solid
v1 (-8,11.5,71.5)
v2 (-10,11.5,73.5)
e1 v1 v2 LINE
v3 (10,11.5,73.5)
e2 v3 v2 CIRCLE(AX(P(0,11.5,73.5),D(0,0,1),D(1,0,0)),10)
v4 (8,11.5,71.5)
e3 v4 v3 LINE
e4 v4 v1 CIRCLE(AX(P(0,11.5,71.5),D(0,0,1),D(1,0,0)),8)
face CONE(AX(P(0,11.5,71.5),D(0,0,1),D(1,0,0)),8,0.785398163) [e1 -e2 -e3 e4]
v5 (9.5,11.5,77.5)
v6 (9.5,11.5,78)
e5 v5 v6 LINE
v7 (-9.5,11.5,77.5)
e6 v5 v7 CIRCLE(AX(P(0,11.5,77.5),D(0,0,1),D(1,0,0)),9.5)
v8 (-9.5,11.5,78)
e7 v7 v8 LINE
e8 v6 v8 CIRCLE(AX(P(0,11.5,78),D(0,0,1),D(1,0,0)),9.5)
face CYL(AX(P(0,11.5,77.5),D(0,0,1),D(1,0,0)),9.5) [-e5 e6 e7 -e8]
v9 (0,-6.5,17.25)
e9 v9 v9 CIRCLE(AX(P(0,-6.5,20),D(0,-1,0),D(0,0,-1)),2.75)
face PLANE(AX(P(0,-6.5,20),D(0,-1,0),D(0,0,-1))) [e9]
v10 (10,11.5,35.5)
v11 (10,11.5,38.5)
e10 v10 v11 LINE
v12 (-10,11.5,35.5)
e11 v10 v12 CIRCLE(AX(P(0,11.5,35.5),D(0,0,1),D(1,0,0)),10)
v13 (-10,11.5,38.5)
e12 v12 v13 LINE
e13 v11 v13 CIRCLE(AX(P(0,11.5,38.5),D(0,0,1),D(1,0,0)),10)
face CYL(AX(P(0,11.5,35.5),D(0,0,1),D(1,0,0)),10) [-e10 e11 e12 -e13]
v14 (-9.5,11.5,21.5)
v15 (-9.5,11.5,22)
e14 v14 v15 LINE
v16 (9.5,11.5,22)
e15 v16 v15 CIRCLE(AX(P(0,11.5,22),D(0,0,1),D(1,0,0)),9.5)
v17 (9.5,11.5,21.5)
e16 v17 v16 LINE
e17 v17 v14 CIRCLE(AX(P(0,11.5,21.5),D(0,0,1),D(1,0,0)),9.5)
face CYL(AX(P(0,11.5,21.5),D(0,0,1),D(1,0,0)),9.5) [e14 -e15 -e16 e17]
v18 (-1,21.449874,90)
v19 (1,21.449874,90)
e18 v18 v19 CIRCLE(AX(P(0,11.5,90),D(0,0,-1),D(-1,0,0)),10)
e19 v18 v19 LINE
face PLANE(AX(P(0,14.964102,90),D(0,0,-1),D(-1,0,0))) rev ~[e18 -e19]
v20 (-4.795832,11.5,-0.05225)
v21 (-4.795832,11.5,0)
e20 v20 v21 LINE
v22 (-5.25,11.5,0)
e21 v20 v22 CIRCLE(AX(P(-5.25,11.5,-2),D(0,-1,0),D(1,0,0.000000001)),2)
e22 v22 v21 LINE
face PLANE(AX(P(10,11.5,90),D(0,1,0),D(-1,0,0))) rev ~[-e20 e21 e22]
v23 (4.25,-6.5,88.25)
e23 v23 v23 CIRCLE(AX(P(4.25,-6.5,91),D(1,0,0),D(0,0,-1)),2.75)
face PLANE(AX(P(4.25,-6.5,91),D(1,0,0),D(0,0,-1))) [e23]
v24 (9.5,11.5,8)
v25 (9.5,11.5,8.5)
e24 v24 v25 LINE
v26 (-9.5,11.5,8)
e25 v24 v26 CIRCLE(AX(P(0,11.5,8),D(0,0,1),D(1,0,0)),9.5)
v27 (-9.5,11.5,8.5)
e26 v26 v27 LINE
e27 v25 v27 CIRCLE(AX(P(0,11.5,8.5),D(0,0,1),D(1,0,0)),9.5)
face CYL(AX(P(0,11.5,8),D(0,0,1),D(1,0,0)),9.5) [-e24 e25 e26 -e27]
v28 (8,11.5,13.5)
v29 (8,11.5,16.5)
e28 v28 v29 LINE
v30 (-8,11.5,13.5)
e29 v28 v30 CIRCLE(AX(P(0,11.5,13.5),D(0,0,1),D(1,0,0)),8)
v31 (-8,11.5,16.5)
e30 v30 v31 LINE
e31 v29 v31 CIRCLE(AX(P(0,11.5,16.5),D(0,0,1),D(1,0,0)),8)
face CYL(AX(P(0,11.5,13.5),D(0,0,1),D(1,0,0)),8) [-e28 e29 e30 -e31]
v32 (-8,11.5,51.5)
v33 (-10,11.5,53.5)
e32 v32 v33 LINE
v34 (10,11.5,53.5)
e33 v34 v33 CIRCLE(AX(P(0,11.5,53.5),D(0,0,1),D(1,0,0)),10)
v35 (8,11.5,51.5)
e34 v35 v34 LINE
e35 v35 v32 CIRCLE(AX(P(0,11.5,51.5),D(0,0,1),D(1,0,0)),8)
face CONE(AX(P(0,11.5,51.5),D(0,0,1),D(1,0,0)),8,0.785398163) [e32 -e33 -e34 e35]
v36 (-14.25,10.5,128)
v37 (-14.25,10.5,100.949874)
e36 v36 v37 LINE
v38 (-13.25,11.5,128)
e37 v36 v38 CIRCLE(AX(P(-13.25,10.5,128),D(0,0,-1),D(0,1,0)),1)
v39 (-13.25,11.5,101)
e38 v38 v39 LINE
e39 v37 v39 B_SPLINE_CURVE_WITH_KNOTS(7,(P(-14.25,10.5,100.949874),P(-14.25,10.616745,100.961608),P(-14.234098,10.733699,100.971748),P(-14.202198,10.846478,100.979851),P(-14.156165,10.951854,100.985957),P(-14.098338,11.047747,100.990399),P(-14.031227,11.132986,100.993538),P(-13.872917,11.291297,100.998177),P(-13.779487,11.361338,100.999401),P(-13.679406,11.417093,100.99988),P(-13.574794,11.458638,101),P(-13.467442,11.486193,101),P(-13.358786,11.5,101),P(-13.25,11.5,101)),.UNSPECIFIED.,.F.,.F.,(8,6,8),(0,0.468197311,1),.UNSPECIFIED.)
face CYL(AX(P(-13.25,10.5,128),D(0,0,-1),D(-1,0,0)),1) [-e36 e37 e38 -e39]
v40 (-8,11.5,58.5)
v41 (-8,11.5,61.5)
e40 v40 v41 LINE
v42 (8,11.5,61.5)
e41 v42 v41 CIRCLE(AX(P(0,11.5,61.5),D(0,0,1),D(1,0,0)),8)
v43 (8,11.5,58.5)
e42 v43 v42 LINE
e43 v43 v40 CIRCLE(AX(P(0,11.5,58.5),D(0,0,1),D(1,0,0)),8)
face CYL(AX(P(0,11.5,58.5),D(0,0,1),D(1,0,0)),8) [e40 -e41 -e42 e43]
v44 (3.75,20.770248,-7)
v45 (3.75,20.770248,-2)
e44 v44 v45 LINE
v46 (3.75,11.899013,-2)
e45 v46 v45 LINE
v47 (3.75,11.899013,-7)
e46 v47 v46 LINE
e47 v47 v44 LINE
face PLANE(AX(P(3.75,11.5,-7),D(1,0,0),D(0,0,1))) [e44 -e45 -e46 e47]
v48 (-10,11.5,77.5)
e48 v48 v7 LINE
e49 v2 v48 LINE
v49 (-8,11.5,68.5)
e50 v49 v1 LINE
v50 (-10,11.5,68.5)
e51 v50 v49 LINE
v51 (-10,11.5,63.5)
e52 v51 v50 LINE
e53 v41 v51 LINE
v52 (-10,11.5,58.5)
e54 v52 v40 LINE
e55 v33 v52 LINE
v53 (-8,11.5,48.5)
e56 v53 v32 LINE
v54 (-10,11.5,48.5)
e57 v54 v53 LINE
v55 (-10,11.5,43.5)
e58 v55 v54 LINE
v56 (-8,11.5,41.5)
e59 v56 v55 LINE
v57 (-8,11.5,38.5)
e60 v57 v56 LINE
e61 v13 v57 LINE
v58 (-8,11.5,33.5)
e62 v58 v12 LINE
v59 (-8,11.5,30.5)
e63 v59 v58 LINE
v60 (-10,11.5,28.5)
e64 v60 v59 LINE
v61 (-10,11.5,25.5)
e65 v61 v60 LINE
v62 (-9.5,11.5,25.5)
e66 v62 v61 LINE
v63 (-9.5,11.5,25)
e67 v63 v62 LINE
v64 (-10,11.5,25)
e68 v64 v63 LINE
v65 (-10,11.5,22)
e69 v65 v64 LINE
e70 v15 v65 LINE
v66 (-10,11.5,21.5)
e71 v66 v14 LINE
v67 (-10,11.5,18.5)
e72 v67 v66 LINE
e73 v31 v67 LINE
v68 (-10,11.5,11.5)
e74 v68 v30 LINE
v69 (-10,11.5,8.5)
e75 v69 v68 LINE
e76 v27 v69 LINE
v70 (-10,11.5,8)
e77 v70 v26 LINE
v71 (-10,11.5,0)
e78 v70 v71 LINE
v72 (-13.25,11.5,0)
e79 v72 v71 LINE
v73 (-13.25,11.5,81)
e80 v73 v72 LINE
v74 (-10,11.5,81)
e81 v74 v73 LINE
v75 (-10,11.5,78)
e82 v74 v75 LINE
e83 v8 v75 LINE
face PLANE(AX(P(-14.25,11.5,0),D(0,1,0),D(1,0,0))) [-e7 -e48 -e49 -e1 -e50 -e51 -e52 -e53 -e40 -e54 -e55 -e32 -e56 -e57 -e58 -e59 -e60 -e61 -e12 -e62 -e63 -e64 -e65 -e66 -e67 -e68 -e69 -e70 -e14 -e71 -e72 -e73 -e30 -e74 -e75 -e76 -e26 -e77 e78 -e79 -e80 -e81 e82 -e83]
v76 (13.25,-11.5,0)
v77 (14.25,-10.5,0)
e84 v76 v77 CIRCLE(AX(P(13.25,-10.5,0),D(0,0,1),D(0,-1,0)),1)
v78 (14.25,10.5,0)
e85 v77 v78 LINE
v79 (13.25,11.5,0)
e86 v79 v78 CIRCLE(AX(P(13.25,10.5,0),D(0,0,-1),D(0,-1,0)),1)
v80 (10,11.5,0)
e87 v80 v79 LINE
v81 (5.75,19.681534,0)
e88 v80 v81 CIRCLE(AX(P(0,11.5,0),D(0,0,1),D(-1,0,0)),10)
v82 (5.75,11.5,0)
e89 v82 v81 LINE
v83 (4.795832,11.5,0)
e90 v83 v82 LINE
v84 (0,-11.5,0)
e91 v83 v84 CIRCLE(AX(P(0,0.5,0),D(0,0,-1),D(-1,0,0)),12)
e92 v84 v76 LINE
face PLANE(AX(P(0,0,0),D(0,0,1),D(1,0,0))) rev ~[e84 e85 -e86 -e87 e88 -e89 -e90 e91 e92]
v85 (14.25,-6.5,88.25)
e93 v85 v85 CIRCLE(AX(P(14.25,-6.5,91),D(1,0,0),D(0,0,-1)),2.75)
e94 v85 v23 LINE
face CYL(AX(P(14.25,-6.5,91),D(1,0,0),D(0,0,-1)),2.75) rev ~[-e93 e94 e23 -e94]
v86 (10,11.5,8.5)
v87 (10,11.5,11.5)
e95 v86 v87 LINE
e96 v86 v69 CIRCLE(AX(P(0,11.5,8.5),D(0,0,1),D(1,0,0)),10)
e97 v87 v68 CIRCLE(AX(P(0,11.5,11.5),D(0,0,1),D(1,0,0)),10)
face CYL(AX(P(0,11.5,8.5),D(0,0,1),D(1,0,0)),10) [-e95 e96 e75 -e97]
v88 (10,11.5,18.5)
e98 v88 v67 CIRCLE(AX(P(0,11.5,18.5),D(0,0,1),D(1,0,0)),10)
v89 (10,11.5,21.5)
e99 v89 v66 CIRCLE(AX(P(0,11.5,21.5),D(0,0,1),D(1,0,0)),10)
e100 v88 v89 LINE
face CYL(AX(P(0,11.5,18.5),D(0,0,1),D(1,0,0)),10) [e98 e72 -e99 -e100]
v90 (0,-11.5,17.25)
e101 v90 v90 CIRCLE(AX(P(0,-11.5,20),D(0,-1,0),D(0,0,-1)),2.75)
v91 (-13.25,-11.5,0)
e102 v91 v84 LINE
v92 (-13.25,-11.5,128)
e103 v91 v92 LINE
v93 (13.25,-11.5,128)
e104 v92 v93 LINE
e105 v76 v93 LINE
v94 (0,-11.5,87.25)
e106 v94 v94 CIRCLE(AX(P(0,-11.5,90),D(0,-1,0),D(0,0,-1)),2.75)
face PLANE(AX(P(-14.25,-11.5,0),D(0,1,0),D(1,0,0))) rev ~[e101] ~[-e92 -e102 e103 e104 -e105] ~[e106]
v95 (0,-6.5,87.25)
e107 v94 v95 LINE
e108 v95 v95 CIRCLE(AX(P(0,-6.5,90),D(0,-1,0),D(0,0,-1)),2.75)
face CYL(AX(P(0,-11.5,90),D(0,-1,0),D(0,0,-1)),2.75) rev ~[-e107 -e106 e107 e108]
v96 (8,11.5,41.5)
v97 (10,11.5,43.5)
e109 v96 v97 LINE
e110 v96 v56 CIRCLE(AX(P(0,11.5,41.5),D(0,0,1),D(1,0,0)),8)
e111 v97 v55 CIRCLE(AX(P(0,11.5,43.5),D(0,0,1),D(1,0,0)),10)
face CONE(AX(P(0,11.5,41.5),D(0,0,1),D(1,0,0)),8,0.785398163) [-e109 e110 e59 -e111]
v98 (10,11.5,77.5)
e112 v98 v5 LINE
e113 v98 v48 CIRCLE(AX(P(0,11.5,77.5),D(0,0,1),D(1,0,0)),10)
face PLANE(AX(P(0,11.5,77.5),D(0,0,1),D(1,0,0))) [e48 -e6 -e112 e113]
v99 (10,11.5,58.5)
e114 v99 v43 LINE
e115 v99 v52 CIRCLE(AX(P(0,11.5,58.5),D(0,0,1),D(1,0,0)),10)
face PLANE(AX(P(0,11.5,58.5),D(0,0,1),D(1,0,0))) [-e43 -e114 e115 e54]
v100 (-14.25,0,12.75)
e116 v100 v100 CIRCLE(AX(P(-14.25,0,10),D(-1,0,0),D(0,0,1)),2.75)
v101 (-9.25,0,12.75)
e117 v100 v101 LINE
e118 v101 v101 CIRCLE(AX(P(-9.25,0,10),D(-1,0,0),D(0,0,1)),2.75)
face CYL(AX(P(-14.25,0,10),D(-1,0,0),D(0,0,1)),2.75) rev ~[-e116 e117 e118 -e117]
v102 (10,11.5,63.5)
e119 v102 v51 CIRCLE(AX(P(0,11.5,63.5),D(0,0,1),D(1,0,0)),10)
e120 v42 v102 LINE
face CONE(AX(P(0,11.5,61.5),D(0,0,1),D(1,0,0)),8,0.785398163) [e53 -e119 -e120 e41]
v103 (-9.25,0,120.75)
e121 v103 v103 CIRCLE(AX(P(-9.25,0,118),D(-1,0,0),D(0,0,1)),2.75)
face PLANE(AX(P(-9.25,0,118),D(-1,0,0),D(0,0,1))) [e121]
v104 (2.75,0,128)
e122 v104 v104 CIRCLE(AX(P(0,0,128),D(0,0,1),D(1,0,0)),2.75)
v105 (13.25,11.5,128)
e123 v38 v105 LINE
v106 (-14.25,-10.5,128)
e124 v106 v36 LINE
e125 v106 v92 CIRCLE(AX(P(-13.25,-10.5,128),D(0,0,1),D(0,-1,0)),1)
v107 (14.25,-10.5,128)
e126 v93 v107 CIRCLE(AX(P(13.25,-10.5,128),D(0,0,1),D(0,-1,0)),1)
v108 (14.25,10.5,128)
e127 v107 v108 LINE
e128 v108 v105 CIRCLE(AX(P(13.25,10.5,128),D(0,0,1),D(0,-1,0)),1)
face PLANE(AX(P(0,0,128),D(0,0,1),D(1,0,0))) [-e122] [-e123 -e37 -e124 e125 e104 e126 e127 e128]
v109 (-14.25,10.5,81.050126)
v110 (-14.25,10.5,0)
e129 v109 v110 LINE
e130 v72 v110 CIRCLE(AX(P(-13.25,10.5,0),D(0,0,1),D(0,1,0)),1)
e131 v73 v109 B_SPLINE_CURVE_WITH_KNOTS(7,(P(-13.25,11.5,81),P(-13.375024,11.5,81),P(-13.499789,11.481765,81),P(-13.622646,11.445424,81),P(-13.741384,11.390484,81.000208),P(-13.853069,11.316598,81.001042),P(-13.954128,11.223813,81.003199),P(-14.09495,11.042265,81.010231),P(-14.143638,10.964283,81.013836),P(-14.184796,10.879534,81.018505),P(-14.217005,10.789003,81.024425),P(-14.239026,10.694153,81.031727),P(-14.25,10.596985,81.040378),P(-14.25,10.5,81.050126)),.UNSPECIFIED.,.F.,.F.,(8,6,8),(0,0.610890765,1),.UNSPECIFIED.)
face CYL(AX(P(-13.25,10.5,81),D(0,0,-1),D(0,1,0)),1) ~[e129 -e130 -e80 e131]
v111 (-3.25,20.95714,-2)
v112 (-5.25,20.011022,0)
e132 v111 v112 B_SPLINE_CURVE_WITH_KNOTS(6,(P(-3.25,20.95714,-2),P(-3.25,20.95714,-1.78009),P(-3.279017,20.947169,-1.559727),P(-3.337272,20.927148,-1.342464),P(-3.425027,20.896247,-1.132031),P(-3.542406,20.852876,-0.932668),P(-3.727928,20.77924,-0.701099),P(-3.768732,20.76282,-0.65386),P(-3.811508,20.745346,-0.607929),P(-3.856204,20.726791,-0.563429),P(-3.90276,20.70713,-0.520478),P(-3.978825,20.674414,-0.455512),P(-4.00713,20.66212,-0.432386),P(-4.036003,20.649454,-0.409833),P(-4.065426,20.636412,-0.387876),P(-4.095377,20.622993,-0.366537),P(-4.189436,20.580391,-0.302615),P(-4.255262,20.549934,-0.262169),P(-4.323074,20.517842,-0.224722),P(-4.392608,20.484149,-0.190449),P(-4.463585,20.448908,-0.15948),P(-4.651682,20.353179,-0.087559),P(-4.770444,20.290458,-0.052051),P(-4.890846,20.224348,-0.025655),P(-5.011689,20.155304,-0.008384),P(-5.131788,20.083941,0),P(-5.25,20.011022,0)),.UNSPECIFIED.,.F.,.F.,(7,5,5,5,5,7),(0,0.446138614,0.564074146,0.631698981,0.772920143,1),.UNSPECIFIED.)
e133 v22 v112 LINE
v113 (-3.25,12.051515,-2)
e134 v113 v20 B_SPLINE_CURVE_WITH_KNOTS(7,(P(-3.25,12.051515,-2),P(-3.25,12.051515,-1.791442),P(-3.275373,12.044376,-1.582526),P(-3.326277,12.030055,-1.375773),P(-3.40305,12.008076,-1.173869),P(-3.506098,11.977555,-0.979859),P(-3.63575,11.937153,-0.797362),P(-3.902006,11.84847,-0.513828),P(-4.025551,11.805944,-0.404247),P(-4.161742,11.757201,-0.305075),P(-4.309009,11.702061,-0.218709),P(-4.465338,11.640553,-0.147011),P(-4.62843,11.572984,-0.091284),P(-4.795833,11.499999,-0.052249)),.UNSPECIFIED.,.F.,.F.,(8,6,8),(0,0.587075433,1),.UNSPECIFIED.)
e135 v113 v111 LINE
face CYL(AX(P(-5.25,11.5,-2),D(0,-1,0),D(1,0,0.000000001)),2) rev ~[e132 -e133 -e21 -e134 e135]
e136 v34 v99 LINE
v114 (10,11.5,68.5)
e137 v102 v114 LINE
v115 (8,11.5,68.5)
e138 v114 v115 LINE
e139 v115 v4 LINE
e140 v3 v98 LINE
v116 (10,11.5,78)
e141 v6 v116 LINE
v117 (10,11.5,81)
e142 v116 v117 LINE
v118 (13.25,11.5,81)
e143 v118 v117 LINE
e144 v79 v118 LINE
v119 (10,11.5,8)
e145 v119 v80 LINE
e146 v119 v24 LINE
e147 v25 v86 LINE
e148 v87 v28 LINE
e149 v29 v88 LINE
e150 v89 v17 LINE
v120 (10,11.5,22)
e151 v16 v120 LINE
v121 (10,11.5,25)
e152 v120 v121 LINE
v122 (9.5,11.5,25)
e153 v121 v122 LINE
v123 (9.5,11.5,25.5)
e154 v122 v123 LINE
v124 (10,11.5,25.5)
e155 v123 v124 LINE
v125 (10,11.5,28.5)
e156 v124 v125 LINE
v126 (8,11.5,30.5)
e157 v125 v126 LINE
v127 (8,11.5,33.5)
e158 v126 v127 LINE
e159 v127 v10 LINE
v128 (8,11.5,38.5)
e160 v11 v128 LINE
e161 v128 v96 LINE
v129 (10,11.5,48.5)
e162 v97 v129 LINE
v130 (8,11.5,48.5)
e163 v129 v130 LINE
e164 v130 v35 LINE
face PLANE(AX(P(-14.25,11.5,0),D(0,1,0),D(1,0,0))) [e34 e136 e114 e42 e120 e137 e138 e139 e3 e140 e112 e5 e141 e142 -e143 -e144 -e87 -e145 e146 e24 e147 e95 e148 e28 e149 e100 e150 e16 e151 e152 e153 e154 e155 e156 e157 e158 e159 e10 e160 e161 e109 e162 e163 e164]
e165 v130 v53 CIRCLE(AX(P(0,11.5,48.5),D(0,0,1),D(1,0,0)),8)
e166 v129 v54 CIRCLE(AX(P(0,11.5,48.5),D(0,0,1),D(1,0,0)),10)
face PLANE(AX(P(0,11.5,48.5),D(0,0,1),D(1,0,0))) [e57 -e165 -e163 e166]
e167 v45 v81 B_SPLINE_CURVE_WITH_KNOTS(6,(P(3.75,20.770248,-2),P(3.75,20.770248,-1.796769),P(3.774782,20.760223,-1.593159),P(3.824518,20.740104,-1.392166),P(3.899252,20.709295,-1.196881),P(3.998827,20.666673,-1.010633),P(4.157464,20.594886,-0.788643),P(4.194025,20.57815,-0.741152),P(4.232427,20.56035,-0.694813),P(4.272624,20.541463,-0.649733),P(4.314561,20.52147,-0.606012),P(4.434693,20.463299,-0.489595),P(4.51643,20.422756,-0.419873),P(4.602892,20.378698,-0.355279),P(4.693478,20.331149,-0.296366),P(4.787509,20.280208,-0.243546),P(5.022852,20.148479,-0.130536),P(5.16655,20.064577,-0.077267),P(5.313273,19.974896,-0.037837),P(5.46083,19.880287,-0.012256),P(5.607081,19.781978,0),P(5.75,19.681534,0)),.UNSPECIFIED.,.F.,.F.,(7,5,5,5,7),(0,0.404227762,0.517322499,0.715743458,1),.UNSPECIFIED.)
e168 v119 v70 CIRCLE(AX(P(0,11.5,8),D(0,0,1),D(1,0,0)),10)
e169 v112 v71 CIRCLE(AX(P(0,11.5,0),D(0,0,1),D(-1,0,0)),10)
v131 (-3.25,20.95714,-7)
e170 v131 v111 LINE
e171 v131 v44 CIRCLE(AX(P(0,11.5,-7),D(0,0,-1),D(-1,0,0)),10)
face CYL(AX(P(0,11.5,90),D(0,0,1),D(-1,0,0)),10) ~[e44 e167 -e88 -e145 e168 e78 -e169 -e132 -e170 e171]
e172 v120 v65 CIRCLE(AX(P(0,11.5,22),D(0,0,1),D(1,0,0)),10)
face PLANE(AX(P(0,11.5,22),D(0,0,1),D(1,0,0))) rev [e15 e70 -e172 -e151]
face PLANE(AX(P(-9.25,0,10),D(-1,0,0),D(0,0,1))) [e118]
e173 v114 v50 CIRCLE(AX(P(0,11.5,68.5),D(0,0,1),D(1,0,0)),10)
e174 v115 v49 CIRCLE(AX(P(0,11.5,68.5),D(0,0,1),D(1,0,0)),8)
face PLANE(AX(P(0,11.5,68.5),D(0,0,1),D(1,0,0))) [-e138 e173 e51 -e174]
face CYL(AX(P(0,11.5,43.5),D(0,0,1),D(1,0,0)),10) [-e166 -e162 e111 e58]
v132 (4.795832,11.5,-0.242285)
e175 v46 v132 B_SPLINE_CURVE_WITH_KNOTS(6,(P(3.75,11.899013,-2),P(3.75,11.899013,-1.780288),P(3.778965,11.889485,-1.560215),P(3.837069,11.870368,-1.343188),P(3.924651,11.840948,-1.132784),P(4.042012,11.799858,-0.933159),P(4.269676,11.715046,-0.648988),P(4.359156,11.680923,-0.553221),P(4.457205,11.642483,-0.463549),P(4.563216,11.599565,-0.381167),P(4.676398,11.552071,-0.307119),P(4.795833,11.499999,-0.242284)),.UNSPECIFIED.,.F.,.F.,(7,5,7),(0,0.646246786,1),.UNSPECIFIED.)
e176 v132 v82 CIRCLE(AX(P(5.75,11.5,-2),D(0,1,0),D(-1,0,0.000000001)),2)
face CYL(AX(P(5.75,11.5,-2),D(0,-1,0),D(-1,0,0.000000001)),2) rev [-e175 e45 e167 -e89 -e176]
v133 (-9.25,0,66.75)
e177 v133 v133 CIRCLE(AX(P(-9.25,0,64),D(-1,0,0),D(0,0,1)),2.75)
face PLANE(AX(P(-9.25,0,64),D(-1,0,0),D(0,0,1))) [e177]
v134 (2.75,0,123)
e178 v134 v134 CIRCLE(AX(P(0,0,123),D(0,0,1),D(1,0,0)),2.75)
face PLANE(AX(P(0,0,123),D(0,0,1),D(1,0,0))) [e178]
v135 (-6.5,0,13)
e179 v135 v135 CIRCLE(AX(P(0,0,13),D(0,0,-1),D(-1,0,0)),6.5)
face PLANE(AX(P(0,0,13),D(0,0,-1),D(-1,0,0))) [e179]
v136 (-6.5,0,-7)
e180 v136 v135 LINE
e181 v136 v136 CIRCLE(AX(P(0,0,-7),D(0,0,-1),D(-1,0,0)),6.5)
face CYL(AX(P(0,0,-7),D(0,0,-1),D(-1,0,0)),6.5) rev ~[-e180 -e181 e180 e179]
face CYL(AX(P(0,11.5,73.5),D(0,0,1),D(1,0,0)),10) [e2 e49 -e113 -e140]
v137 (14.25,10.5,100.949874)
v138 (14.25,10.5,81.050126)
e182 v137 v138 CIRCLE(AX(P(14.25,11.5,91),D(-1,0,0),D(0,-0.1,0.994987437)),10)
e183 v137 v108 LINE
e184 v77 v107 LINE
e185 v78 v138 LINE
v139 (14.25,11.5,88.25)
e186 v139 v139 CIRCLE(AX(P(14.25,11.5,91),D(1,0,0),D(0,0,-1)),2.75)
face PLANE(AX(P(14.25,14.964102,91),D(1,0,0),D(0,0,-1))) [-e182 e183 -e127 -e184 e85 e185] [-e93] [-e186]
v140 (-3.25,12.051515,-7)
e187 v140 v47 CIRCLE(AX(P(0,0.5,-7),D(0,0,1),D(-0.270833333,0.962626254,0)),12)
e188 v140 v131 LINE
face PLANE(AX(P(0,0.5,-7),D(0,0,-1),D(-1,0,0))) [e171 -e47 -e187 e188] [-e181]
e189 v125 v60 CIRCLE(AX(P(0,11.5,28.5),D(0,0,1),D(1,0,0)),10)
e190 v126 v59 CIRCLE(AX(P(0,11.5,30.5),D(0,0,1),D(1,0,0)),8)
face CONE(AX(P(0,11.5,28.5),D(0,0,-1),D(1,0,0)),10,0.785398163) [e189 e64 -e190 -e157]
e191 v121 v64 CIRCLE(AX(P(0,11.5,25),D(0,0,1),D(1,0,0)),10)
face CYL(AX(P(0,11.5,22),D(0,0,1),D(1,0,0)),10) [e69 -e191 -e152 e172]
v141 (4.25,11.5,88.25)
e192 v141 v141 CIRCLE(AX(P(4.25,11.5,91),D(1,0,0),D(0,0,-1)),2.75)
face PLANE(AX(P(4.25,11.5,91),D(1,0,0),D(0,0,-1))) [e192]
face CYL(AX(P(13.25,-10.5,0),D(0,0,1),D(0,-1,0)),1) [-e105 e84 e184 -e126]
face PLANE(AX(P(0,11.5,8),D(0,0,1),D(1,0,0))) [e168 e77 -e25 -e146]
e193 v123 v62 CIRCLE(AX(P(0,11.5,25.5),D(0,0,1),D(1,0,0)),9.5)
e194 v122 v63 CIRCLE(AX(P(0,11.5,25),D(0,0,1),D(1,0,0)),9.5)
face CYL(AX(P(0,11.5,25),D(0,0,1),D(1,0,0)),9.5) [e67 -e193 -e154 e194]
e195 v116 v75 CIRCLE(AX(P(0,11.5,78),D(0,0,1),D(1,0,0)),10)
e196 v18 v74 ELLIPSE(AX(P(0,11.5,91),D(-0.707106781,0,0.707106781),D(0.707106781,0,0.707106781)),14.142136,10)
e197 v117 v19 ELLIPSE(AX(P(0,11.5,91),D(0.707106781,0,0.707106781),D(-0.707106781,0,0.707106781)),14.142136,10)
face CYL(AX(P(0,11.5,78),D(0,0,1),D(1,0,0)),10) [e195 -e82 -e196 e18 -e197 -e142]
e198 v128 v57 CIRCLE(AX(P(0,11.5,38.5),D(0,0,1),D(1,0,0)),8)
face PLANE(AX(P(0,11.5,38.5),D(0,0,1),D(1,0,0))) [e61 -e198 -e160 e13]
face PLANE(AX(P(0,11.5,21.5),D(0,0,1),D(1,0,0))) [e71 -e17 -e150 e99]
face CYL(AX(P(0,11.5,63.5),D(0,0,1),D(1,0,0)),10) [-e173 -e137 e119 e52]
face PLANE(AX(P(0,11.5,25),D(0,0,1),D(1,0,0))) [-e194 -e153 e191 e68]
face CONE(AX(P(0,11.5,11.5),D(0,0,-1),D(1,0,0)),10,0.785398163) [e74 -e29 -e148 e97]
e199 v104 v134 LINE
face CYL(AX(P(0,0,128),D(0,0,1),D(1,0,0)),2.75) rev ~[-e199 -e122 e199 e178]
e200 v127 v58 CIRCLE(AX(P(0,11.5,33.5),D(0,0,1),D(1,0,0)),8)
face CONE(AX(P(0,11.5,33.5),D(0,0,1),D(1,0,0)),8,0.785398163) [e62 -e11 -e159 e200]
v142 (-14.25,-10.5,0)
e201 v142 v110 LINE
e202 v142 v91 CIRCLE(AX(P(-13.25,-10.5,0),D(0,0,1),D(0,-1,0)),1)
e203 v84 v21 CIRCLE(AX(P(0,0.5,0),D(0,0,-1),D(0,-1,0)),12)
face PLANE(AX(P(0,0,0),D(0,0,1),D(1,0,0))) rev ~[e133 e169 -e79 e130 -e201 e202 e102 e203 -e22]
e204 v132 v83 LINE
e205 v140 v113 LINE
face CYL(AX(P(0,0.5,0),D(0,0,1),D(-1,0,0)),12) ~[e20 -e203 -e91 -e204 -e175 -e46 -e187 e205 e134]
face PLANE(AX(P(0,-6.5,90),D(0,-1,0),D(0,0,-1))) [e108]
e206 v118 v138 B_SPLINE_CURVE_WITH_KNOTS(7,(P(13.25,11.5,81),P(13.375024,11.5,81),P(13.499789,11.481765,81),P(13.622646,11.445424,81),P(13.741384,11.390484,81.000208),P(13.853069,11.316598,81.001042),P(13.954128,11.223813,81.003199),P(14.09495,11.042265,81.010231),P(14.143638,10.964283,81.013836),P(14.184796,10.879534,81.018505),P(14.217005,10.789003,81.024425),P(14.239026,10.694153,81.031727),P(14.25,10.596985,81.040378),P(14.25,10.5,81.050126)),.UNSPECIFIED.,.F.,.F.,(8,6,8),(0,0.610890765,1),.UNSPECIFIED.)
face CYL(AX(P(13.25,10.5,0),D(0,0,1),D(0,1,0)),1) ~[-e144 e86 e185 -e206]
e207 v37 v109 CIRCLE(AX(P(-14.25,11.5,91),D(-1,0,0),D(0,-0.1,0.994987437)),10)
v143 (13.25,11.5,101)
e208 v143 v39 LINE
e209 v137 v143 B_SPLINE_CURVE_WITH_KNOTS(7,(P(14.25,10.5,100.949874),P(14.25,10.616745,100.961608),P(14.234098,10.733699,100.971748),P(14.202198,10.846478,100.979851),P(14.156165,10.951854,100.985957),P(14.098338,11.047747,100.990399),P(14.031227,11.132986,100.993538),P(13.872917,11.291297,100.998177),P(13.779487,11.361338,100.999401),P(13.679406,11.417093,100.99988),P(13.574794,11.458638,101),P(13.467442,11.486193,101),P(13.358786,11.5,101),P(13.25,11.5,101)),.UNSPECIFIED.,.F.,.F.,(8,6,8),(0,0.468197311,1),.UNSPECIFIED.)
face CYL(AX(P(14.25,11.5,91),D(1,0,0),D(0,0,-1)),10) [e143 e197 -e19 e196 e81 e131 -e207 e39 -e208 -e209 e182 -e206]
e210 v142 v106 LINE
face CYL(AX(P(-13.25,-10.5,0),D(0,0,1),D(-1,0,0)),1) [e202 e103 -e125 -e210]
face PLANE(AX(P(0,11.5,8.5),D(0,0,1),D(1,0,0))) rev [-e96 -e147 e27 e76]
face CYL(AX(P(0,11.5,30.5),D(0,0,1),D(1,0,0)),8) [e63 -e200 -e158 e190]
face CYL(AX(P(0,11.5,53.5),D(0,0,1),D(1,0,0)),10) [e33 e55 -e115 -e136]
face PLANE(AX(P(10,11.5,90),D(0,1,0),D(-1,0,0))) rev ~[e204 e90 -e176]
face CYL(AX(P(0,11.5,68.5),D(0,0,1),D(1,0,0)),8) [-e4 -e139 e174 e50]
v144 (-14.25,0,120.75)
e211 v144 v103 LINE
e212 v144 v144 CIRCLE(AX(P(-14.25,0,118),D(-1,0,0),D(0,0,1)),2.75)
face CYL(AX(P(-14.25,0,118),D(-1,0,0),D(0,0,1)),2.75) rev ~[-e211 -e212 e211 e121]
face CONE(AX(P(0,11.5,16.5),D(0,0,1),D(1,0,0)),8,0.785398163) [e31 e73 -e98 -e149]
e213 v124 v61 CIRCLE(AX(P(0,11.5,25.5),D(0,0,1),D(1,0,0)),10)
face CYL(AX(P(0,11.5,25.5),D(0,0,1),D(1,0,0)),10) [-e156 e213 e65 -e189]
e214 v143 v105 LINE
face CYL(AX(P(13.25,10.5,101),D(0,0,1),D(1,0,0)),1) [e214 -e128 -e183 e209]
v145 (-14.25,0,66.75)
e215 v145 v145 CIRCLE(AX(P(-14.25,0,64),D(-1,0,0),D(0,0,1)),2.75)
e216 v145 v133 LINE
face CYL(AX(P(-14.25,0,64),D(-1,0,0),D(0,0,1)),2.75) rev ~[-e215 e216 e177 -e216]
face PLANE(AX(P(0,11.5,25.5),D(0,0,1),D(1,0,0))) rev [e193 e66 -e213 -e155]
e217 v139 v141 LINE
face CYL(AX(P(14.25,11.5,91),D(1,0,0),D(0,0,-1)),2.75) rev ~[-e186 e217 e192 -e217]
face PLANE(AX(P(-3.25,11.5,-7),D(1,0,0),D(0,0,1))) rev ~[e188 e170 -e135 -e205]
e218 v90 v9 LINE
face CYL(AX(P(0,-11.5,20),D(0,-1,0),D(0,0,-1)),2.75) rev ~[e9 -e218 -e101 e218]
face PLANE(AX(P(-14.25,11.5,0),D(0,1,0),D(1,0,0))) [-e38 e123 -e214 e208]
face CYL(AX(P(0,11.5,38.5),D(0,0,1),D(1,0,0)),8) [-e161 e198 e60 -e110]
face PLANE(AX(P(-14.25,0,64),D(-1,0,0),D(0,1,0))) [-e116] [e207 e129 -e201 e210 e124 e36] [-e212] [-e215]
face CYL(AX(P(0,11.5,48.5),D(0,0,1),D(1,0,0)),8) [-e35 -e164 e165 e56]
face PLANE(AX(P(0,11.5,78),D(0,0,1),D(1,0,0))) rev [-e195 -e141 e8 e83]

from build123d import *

# Parameters (mm, degrees)
SKETCH1_W                = 28.5
SKETCH1_H                = 23
CENTRE_BLOCK_DEPTH       = 128
TOP_CYLINDER_DEPTH       = 7
TOP_CYLINDER_DEPTH_BACK  = 90
CUT_REVOLVE2_ANGLE       = 180
NOSE_DEPTH               = 131.828370394
T_CROSS_REACH            = 134.885
SKETCH6_R                = 12
BARREL_DEPTH             = 7
SIDE_CYLINDER_DEPTH      = 128
CUT_REVOLVE1_ANGLE       = 180
SKETCH8_R                = 2.75
BACK_HOLE_DEPTH          = 5
SKETCH15_R               = 2.75
CUT_EXTRUDE6_DEPTH       = 10
FILLET2_R                = 1
SKETCH16_R               = 6.5
CUT_EXTRUDE7_DEPTH       = 20
SKETCH21_W               = 152.585030794
SKETCH21_H               = 42.838852891
CUT_EXTRUDE10_DEPTH      = 133.885289011
SKETCH23_R               = 2.75
CUT_EXTRUDE11_DEPTH      = 5
SKETCH24_R               = 2.75
BOTTOM_MOUNT_HOLES_DEPTH = 5


with BuildPart() as part:
    # Sketch1 → Centre block (new body)
    with BuildSketch(Plane.XY):
        Rectangle(SKETCH1_W, SKETCH1_H)
    extrude(amount=CENTRE_BLOCK_DEPTH)

    # Sketch3 → top cylinder (add, two sides: drawn at the far end of the back side and taken through both)
    with BuildSketch(Plane(origin=(0, 0, 0), x_dir=(-1, 0, 0), z_dir=(0, 0, -1)).offset(-TOP_CYLINDER_DEPTH_BACK)):
        with BuildLine():
            Line((-10, 11.5), (10, 11.5))
            ThreePointArc((10, 11.5), (0, 21.5), (-10, 11.5))
        make_face()
    extrude(amount=TOP_CYLINDER_DEPTH + TOP_CYLINDER_DEPTH_BACK)

    # Sketch9 → Cut-Revolve2 (revolve, cut)
    with BuildSketch(Plane(origin=(0, 11.5, 0), x_dir=(1, 0, 0), z_dir=(0, 1, 0))):
        Polygon((10, -78), (10, -81.888582416), (23.187071127, -81.888582416), (23.187071127, -74.052631606), (23.187071127, 0), (10, 0), (10, -8), (9.5, -8), (9.5, -8.5), (10, -8.5), (10, -11.5), (8, -13.5), (8, -16.5), (10, -18.5), (10, -21.5), (9.5, -21.5), (9.5, -22), (10, -22), (10, -25), (9.5, -25), (9.5, -25.5), (10, -25.5), (10, -28.5), (8, -30.5), (8, -33.5), (10, -35.5), (10, -38.5), (8, -38.5), (8, -41.5), (10, -43.5), (10, -48.5), (8, -48.5), (8, -51.5), (10, -53.5), (10, -58.5), (8, -58.5), (8, -60.3), (8, -61.5), (10, -63.5), (10, -68.5), (8, -68.5), (8, -70.3), (8, -71.5), (10, -73.5), (10, -74.052631606), (10, -77.5), (9.5, -77.5), (9.5, -78), align=None)
    revolve(axis=Axis((0, 11.5, -7), (0, 0, 1)), revolution_arc=CUT_REVOLVE2_ANGLE, mode=Mode.SUBTRACT)

    # Sketch4 → nose (cut, through all)
    with BuildSketch(Plane.XZ.offset(-11.5)):
        with BuildLine():
            Line((-3.25, -7), (-3.25, -2))
            ThreePointArc((-3.25, -2), (-3.835786438, -0.585786438), (-5.25, 0))
            Line((-5.25, 0), (-10, 0))
            Line((-10, 0), (-10, -7))
            Line((-10, -7), (-3.25, -7))
        make_face()
        with BuildLine():
            Line((3.75, -7), (3.75, -2))
            ThreePointArc((3.75, -2), (4.335786438, -0.585786438), (5.75, 0))
            Line((5.75, 0), (10, 0))
            Line((10, 0), (10, -7))
            Line((10, -7), (3.75, -7))
        make_face()
    extrude(amount=-NOSE_DEPTH, mode=Mode.SUBTRACT)

    # t cross: up to this face of the body (flat: up to its plane)
    t_cross_end = Plane(part.part.faces().sort_by_distance((-14.25, 0, 64))[0])
    # Sketch5 → t cross (add, up to the picked face)
    with BuildSketch(Plane(origin=(14.25, 0, 0), x_dir=(0, 0, -1), z_dir=(1, 0, 0)), mode=Mode.PRIVATE) as t_cross_sk1:
        with BuildLine():
            Line((-101, 11.5), (-81, 11.5))
            ThreePointArc((-81, 11.5), (-91, 21.5), (-101, 11.5))
        make_face()
    t_cross_tool1 = split(extrude(t_cross_sk1.sketch, amount=-T_CROSS_REACH, mode=Mode.PRIVATE), bisect_by=t_cross_end, keep=Keep.BOTH, mode=Mode.PRIVATE)
    add(t_cross_tool1.solids().sort_by(Axis((14.25, 15.744132, 91), (-1, 0, 0)))[0])

    # Sketch6 → Barrel (add)
    with BuildSketch(Plane(origin=(0, 0, 0), x_dir=(-1, 0, 0), z_dir=(0, 0, -1))):
        with Locations((0, 0.5)):
            Circle(SKETCH6_R)
    extrude(amount=BARREL_DEPTH)

    # Sketch2 → side cylinder (add)
    with BuildSketch(Plane(origin=(0, 0, 0), x_dir=(-1, 0, 0), z_dir=(0, 0, -1))):
        with BuildLine():
            Line((14.25, 10), (14.25, -10))
            ThreePointArc((14.25, -10), (24.25, 0), (14.25, 10))
        make_face()
    extrude(amount=-SIDE_CYLINDER_DEPTH)

    # Sketch7 → Cut-Revolve1 (revolve, cut)
    with BuildSketch(Plane(origin=(-14.25, 0, 0), x_dir=(0, 0, -1), z_dir=(1, 0, 0))):
        Polygon((-51, -10), (-51, -9), (-51.5, -9), (-51.5, -10), (-55.5, -10), (-57.5, -8), (-58.77482941, -8), (-60.5, -8), (-60.5, -10), (-64.5, -10), (-66.5, -8), (-67.77482941, -8), (-69.5, -8), (-69.5, -10), (-73.5, -10), (-75.5, -8), (-76.77482941, -8), (-78.5, -8), (-78.5, -10), (-82.5, -10), (-84.5, -8), (-85.77482941, -8), (-87.5, -8), (-87.5, -10), (-91.5, -10), (-93.5, -8), (-94.77482941, -8), (-96.5, -8), (-96.5, -10), (-100.5, -10), (-102.5, -8), (-105.5, -8), (-107.5, -10), (-110.5, -10), (-110.5, -9), (-111, -9), (-111, -10), (-114, -10), (-114, -9), (-114.5, -9), (-114.5, -10), (-117.5, -10), (-119.5, -8), (-122.65, -8), (-124.65, -10), (-124.65, -14.812383498), (-117.5, -14.812383498), (0, -14.812383498), (0, -10), align=None)
    revolve(axis=Axis((-14.25, 0, 135.382259058), (0, 0, -1)), revolution_arc=CUT_REVOLVE1_ANGLE, mode=Mode.SUBTRACT)

    # Sketch8 → Back hole (cut)
    with BuildSketch(Plane.XY.offset(128)):
        Circle(SKETCH8_R)
    extrude(amount=-BACK_HOLE_DEPTH, mode=Mode.SUBTRACT)

    # Sketch15 → Cut-Extrude6 (cut)
    with BuildSketch(Plane(origin=(14.25, 0, 0), x_dir=(0, 0, -1), z_dir=(1, 0, 0))):
        with Locations((-91, 11.5)):
            Circle(SKETCH15_R)
        with Locations((-91, -6.5)):
            Circle(SKETCH15_R)
    extrude(amount=-CUT_EXTRUDE6_DEPTH, mode=Mode.SUBTRACT)

    # Fillet2
    fillet2_edges = [part.edges().sort_by_distance(p)[0] for p in [
        (-14.25, 11.5, 40.5),
        (14.25, 11.5, 40.5),
        (14.25, -11.5, 64),
        (-14.25, -11.5, 64),
        (-14.25, 11.5, 114.5),
        (14.25, 11.5, 114.5),
    ]]
    fillet(fillet2_edges, radius=FILLET2_R)

    # Sketch16 → Cut-Extrude7 (cut)
    with BuildSketch(Plane(origin=(0, 0, -7), x_dir=(-1, 0, 0), z_dir=(0, 0, -1))):
        Circle(SKETCH16_R)
    extrude(amount=-CUT_EXTRUDE7_DEPTH, mode=Mode.SUBTRACT)

    # Sketch21 → Cut-Extrude10 (cut, through all)
    with BuildSketch(Plane.ZY.offset(14.25)):
        with Locations((64.09795532, 3.365381731)):
            Rectangle(SKETCH21_W, SKETCH21_H)
    extrude(amount=CUT_EXTRUDE10_DEPTH, mode=Mode.SUBTRACT)

    # Sketch23 → Cut-Extrude11 (cut)
    with BuildSketch(Plane.ZY.offset(14.25)):
        with Locations((10, 0)):
            Circle(SKETCH23_R)
        with Locations((118, 0)):
            Circle(SKETCH23_R)
        with Locations((64, 0)):
            Circle(SKETCH23_R)
    extrude(amount=-CUT_EXTRUDE11_DEPTH, mode=Mode.SUBTRACT)

    # Sketch24 → Bottom Mount Holes (cut)
    with BuildSketch(Plane.XZ.offset(11.5)):
        with Locations(Location((0, 20, 0), (0, 0, 270))):
            Circle(SKETCH24_R)
        with Locations(Location((0, 90, 0), (0, 0, 270))):
            Circle(SKETCH24_R)
    extrude(amount=-BOTTOM_MOUNT_HOLES_DEPTH, mode=Mode.SUBTRACT)


solid = part.part
